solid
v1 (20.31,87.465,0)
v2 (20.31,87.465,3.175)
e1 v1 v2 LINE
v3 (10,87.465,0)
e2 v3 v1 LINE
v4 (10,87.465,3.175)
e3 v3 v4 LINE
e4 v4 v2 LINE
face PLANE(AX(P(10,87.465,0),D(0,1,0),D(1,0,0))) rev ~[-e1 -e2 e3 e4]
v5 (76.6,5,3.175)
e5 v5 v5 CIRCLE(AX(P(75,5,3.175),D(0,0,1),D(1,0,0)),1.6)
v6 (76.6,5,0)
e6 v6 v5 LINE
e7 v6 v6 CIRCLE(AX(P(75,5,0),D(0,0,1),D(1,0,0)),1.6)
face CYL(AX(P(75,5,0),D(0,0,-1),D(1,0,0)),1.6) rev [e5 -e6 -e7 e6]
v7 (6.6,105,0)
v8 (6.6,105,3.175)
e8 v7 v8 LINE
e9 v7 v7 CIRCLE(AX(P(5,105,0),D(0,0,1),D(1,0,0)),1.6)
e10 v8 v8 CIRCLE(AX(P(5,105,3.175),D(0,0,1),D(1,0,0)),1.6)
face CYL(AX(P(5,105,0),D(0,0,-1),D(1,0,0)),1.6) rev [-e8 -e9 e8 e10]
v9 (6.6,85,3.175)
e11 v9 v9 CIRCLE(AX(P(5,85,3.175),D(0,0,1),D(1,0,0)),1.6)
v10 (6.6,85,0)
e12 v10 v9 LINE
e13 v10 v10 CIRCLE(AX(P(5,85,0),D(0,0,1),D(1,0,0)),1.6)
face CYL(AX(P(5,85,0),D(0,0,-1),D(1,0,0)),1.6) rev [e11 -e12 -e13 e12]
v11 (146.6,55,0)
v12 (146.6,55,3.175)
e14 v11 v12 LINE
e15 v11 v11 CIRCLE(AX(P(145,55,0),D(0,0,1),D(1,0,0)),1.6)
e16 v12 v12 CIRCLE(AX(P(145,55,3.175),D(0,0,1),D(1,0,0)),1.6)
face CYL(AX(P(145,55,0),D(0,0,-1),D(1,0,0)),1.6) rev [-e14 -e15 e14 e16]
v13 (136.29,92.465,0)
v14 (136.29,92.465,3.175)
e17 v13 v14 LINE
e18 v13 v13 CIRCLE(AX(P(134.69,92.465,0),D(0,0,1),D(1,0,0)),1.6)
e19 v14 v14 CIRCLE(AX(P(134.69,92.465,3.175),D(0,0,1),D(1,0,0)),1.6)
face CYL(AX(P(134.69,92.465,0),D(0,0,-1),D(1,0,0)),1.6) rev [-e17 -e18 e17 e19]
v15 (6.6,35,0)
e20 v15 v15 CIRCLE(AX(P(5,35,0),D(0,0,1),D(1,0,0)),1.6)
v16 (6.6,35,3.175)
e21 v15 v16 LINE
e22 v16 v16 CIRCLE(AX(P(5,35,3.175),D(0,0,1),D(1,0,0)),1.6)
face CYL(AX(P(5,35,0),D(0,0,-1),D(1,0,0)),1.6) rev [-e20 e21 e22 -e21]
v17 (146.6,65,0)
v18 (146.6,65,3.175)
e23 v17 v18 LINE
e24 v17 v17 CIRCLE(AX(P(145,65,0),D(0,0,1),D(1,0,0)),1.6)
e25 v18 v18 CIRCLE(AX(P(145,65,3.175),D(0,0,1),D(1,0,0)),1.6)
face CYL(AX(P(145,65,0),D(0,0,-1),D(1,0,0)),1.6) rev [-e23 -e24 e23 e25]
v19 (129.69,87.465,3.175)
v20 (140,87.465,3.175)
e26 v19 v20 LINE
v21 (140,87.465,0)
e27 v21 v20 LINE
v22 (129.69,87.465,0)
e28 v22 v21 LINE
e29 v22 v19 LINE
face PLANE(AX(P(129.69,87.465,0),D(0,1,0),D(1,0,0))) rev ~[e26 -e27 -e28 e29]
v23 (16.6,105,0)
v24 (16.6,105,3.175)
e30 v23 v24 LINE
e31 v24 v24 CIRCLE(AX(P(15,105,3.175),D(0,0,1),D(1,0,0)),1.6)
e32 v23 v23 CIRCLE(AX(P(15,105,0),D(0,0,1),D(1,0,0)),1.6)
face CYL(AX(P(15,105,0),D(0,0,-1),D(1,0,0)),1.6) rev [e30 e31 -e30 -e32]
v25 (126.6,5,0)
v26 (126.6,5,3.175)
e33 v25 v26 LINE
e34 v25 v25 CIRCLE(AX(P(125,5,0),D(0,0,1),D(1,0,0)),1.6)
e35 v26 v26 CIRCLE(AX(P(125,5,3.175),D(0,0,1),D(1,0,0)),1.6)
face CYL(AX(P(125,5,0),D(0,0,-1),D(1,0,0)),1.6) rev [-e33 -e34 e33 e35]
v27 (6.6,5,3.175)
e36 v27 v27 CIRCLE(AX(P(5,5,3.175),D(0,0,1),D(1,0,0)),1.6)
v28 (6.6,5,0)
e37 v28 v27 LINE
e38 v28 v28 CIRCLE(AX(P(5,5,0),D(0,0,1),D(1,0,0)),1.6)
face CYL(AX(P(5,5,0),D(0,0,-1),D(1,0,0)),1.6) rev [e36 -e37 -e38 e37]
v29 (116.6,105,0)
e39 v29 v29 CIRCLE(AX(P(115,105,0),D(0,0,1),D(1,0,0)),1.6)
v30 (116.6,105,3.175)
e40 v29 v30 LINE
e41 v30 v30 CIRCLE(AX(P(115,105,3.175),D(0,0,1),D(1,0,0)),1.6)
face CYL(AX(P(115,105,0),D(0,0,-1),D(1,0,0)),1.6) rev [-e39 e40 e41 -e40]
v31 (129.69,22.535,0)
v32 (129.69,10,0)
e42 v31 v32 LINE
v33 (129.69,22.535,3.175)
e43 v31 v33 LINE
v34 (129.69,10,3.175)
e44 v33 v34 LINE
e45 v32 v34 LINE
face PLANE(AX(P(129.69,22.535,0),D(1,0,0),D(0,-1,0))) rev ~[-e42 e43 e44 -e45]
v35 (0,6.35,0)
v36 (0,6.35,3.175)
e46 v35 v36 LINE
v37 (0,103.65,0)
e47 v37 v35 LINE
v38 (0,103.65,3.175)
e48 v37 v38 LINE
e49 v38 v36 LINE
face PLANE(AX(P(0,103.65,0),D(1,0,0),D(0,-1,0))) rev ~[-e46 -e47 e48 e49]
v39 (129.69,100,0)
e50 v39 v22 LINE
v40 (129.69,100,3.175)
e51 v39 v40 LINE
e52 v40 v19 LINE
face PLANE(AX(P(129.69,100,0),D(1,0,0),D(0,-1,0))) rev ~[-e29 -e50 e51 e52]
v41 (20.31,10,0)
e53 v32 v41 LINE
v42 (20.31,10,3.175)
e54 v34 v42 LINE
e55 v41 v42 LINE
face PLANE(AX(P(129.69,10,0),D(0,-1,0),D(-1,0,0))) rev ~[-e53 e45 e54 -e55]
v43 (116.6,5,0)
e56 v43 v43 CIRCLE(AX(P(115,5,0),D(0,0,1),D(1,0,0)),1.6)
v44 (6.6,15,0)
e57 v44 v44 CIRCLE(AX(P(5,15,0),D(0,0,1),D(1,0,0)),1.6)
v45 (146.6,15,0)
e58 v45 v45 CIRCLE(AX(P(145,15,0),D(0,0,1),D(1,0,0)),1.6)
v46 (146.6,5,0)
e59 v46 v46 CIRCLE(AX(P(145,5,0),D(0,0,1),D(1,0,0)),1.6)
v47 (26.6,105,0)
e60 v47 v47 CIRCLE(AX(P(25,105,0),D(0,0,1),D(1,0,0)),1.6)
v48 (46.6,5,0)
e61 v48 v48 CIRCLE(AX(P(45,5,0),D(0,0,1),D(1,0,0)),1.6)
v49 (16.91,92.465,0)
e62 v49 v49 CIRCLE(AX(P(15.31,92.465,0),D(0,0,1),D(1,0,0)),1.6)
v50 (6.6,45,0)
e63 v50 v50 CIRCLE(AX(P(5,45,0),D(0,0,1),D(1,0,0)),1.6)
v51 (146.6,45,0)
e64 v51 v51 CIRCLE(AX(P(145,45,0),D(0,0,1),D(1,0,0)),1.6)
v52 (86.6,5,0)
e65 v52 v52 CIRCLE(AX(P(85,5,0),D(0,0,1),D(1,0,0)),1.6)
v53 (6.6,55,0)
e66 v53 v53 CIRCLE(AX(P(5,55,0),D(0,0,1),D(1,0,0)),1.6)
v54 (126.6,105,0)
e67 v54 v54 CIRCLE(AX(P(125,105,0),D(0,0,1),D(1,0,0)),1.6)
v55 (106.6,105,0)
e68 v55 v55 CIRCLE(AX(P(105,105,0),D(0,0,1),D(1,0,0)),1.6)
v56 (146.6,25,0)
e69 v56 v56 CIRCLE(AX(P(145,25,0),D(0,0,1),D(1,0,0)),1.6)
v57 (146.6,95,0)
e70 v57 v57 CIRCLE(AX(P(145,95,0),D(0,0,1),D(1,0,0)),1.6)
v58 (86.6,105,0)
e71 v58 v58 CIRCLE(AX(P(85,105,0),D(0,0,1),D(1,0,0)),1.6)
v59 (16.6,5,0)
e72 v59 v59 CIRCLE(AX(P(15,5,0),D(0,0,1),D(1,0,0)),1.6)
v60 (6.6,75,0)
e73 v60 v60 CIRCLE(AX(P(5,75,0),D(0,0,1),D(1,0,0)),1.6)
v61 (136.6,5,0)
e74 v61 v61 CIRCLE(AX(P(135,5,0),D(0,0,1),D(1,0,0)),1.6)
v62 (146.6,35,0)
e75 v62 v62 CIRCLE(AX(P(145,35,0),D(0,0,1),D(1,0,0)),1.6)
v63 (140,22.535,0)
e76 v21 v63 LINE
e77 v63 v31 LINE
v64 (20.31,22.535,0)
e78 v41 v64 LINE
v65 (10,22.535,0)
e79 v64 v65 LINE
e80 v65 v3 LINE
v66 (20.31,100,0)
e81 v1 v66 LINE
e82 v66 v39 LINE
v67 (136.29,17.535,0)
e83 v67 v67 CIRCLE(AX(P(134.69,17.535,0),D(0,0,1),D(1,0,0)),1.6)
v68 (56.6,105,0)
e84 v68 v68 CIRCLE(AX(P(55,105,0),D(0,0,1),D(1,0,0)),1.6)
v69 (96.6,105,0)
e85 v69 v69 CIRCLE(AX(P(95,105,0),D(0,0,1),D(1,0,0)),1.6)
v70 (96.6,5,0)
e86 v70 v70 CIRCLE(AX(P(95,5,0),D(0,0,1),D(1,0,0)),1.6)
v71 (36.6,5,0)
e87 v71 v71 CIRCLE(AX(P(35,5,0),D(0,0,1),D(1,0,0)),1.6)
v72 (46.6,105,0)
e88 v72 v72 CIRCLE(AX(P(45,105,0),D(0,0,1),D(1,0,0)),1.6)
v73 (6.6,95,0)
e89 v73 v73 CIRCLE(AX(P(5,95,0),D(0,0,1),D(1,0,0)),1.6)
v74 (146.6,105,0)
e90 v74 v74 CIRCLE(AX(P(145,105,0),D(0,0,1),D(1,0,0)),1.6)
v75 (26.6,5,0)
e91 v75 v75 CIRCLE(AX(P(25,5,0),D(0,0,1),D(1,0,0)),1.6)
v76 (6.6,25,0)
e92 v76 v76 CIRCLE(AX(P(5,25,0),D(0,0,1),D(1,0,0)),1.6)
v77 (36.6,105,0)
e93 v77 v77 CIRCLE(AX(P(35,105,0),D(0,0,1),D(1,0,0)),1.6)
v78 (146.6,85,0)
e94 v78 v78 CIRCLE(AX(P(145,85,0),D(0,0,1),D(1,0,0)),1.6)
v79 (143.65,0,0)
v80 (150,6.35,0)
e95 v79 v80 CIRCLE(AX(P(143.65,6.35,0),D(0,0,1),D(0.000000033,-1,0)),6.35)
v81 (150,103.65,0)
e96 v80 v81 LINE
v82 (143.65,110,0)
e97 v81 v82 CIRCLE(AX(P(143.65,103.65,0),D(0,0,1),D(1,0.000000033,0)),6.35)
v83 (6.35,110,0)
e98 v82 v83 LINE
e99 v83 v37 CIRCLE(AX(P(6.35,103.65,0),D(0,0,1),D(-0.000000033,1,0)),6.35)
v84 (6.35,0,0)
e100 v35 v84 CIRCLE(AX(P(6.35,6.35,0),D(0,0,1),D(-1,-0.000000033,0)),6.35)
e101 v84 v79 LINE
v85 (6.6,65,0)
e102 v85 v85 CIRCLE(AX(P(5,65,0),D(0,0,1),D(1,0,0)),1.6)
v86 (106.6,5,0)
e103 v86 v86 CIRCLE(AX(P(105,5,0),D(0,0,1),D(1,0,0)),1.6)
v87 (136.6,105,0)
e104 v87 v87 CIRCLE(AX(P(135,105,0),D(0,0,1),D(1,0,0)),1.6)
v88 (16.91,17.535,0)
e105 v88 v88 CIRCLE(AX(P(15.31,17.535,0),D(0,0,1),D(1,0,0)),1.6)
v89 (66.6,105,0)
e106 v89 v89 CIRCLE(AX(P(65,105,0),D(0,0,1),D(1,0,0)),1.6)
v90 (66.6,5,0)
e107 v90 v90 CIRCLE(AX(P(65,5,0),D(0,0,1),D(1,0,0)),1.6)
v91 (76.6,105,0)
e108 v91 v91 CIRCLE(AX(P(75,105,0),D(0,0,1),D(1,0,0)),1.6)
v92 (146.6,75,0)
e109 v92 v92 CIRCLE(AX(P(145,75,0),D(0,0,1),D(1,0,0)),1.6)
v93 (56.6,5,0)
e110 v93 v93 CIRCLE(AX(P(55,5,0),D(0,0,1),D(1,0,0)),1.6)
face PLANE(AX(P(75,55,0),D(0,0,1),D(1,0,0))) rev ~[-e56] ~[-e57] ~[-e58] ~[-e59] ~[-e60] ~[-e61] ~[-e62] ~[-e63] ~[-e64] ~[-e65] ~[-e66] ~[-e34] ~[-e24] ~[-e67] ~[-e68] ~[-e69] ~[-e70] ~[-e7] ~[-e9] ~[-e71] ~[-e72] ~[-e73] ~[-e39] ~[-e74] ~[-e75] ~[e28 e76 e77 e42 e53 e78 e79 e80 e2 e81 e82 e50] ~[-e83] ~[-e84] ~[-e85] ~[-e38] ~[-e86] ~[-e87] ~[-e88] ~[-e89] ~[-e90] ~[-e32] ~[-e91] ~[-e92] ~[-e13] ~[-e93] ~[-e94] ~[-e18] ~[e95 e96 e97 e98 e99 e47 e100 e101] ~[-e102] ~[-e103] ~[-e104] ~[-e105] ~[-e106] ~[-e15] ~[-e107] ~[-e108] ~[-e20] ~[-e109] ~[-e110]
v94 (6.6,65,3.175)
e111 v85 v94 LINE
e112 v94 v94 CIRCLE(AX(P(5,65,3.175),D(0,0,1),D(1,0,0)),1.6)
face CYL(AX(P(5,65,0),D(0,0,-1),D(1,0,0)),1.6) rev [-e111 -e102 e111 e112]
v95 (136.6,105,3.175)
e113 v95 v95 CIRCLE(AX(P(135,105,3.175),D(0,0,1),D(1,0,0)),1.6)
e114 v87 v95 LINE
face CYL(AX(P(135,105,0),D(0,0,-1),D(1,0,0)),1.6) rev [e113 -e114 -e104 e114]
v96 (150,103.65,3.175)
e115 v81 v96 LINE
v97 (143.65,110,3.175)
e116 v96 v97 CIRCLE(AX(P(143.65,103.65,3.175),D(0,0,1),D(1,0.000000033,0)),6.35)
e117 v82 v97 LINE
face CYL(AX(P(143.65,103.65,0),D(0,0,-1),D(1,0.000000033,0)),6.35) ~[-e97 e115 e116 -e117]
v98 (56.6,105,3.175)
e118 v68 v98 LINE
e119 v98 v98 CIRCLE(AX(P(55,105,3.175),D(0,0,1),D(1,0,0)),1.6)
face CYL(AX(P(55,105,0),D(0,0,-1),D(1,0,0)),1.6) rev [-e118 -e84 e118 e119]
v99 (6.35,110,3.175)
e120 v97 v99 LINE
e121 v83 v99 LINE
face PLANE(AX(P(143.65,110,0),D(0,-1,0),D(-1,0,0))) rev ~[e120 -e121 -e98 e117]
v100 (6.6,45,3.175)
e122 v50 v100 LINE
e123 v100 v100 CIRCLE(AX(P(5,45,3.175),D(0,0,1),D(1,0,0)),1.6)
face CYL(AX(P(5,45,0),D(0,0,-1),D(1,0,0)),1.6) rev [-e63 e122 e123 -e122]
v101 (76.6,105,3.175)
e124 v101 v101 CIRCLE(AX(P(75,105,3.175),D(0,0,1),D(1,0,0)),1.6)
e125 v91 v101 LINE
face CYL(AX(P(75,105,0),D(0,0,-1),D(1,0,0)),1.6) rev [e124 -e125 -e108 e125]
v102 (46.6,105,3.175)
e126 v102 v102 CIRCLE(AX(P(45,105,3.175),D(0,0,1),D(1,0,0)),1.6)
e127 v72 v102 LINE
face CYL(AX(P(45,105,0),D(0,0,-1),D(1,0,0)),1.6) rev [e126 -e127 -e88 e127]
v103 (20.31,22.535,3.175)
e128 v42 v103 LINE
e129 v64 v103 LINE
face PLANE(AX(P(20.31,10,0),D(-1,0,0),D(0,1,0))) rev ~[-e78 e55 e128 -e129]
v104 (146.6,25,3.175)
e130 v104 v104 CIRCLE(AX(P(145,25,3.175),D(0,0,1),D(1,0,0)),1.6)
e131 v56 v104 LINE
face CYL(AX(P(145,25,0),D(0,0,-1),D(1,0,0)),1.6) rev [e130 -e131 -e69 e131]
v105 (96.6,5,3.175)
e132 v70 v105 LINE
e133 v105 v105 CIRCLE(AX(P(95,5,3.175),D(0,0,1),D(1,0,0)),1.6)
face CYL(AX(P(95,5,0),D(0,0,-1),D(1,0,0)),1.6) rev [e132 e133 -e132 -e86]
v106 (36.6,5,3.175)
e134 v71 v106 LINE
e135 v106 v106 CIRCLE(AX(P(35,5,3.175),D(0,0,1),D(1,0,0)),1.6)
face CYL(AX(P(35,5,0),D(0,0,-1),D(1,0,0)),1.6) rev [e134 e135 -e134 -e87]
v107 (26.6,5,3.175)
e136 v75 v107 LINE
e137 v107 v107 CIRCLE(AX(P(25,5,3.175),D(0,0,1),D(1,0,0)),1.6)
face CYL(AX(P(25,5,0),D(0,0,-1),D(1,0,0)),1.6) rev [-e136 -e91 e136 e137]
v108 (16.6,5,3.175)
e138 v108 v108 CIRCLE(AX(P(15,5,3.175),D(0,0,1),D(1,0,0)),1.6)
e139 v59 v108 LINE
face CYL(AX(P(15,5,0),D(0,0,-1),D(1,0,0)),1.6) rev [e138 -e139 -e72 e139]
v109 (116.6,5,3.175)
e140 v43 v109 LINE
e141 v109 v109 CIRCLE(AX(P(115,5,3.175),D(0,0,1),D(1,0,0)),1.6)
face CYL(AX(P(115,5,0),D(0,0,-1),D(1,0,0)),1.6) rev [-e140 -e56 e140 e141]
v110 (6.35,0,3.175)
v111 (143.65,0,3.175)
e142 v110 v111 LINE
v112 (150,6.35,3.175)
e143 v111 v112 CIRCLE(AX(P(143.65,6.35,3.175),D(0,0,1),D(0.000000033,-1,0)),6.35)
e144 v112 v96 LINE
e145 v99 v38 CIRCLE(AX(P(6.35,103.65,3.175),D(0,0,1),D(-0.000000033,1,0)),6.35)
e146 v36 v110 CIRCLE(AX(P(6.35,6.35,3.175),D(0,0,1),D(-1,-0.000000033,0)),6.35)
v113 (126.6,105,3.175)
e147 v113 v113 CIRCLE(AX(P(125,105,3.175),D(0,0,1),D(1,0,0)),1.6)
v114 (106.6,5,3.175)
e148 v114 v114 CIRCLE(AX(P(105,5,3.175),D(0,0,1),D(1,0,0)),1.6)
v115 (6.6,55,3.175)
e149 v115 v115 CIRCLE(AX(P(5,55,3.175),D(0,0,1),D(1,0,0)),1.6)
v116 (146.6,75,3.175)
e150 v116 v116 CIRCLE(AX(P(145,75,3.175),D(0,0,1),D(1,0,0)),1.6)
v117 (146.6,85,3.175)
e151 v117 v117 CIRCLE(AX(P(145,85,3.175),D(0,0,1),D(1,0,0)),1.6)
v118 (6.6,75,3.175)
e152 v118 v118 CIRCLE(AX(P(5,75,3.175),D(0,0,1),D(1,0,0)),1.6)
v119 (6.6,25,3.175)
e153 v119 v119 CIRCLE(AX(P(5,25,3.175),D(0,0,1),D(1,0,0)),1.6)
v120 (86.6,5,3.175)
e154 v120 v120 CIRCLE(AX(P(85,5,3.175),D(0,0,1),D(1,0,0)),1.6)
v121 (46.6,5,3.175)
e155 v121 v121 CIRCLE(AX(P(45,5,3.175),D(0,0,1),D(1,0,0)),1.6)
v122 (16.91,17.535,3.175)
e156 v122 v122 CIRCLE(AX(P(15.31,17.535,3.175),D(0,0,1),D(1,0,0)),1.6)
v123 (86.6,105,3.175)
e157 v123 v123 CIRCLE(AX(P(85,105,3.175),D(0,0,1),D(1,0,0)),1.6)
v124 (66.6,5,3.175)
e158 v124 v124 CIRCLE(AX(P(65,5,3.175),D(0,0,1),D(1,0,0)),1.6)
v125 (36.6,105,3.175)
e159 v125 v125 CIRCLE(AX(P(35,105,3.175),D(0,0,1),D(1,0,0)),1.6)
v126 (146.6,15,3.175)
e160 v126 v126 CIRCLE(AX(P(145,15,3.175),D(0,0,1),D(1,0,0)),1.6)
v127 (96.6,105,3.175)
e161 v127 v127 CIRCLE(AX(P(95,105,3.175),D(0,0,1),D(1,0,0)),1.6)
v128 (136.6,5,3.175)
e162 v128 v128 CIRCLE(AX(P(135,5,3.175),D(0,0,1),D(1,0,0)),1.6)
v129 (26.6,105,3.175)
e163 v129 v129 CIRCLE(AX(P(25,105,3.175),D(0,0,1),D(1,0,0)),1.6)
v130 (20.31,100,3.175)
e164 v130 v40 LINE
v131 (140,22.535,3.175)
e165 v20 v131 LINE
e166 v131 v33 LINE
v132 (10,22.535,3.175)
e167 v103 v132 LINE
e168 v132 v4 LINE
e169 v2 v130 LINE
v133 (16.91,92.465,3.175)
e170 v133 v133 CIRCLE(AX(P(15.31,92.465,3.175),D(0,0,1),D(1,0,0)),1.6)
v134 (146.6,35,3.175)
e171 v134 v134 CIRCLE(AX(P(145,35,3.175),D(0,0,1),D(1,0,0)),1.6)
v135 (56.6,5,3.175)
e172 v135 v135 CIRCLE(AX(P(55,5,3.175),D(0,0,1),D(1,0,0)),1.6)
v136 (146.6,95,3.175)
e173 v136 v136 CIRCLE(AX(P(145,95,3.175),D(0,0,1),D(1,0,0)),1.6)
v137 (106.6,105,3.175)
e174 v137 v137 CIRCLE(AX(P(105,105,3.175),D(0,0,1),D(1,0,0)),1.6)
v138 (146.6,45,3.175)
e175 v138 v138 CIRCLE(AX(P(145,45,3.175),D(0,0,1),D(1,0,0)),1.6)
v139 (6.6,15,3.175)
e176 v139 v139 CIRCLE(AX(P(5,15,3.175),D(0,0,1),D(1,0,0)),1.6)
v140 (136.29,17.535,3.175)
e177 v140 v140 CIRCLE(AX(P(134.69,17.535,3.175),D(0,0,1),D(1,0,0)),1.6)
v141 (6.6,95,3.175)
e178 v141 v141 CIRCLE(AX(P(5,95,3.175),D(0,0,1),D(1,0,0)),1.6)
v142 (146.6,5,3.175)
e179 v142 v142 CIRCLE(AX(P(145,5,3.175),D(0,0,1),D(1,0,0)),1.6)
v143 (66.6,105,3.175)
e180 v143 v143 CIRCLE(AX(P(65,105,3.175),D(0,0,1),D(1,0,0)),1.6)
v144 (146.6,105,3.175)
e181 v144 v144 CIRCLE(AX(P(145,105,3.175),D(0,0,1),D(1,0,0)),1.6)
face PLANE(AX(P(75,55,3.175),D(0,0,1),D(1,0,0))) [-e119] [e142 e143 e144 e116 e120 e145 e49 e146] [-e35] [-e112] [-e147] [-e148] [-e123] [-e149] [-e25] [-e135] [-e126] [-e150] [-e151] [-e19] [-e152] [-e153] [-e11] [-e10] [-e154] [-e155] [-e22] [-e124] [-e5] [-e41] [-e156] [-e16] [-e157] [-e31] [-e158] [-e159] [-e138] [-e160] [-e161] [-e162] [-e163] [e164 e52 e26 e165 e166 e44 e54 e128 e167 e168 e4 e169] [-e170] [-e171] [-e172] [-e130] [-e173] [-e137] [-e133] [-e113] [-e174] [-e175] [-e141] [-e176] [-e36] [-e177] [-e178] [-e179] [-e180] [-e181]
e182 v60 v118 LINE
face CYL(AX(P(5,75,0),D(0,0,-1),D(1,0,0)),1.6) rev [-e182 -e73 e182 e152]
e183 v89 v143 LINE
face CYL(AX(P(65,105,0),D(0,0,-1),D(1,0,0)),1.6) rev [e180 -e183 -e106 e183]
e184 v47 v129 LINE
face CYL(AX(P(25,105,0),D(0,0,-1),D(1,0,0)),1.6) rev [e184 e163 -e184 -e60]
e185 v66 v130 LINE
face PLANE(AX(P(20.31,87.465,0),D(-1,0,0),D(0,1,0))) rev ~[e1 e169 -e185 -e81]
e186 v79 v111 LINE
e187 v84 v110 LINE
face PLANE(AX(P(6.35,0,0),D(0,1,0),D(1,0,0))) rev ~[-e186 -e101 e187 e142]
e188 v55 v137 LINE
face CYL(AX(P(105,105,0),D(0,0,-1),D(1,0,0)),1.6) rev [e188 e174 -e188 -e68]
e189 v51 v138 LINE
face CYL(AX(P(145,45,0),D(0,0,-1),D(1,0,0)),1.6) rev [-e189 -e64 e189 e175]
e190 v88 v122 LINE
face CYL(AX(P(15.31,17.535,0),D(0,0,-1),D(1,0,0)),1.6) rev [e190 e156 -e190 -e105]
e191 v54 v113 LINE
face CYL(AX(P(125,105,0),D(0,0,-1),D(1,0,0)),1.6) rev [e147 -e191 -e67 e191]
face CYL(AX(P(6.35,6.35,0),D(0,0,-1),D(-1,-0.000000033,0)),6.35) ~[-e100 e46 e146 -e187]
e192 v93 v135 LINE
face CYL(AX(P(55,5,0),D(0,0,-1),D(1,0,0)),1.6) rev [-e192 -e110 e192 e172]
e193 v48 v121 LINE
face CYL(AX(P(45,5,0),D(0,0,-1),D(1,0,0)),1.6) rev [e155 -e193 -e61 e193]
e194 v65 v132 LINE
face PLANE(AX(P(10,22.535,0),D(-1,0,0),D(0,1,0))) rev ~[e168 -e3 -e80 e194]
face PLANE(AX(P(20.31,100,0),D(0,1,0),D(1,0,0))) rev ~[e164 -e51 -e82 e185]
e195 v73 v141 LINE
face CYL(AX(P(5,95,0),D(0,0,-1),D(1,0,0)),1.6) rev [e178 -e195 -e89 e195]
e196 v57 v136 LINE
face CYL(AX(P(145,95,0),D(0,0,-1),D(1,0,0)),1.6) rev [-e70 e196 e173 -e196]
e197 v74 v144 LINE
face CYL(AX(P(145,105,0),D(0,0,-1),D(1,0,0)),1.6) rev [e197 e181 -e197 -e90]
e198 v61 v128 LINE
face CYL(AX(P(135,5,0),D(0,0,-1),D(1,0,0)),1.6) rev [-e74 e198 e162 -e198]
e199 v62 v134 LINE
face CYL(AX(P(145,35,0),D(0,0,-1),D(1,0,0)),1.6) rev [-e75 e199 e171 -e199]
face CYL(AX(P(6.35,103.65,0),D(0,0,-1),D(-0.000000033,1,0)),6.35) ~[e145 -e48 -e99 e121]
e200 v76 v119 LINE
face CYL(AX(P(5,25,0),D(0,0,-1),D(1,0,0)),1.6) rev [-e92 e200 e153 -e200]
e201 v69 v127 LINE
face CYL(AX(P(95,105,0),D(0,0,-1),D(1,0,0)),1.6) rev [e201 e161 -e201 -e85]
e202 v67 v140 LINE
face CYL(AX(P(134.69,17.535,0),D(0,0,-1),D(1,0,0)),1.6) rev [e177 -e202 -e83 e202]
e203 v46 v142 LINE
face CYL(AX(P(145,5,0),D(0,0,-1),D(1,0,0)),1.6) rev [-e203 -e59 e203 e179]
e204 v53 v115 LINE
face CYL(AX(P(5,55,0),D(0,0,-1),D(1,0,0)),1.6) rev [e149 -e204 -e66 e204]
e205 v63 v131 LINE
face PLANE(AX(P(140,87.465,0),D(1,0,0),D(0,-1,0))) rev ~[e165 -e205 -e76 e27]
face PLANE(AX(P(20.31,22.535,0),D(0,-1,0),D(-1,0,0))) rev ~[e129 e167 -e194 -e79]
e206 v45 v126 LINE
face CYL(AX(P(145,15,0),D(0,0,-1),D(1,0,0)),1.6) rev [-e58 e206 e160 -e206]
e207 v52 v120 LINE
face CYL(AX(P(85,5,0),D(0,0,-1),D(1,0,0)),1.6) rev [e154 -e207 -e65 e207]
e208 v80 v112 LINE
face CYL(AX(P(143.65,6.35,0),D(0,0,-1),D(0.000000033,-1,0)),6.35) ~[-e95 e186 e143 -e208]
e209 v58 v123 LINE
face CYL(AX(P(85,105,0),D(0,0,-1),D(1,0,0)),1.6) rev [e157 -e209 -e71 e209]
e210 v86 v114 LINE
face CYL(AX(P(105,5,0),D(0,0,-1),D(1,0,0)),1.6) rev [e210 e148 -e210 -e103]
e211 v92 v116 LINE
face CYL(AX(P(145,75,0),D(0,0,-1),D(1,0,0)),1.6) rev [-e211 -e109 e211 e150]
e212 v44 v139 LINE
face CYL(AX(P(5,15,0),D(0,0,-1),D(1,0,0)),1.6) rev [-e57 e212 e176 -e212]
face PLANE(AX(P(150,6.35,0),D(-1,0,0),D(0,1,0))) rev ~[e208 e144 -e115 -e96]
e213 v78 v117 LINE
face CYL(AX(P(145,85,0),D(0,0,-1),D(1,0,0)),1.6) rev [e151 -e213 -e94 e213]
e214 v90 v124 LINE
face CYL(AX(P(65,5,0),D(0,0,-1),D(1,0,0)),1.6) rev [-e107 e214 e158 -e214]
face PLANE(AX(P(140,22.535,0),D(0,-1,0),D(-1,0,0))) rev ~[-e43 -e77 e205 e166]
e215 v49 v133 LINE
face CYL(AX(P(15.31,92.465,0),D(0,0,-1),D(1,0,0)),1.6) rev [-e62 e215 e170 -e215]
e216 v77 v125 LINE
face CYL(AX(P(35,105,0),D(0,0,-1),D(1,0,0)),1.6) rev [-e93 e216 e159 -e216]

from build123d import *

# Parameters (mm, degrees)
F0_R     = 1.6
F1_DEPTH = 3.175


with BuildPart() as f1:
    # F0 (on Top) → F1 (new body)
    with BuildSketch(Plane.XY):
        with BuildLine():
            ThreePointArc((0, 6.35), (1.859872, 1.859872), (6.35, 0))
            Line((6.35, 0), (143.65, 0))
            ThreePointArc((143.65, 0), (148.140128, 1.859872), (150, 6.35))
            Line((150, 6.35), (150, 103.65))
            ThreePointArc((150, 103.65), (148.140128, 108.140128), (143.65, 110))
            Line((143.65, 110), (6.35, 110))
            ThreePointArc((6.35, 110), (1.859872, 108.140128), (0, 103.65))
            Line((0, 103.65), (0, 6.35))
        make_face()
        with Locations((5, 5)):
            Circle(F0_R, mode=Mode.SUBTRACT)
        with Locations((15, 5)):
            Circle(F0_R, mode=Mode.SUBTRACT)
        with Locations((25, 5)):
            Circle(F0_R, mode=Mode.SUBTRACT)
        with Locations((35, 5)):
            Circle(F0_R, mode=Mode.SUBTRACT)
        with Locations((5, 15)):
            Circle(F0_R, mode=Mode.SUBTRACT)
        with Locations((15.31, 17.535)):
            Circle(F0_R, mode=Mode.SUBTRACT)
        with Locations((5, 25)):
            Circle(F0_R, mode=Mode.SUBTRACT)
        with Locations((45, 5)):
            Circle(F0_R, mode=Mode.SUBTRACT)
        with Locations((55, 5)):
            Circle(F0_R, mode=Mode.SUBTRACT)
        with Locations((65, 5)):
            Circle(F0_R, mode=Mode.SUBTRACT)
        with Locations((5, 35)):
            Circle(F0_R, mode=Mode.SUBTRACT)
        with Locations((5, 45)):
            Circle(F0_R, mode=Mode.SUBTRACT)
        with Locations((75, 5)):
            Circle(F0_R, mode=Mode.SUBTRACT)
        with Locations((85, 5)):
            Circle(F0_R, mode=Mode.SUBTRACT)
        with Locations((95, 5)):
            Circle(F0_R, mode=Mode.SUBTRACT)
        with Locations((105, 5)):
            Circle(F0_R, mode=Mode.SUBTRACT)
        with Locations((115, 5)):
            Circle(F0_R, mode=Mode.SUBTRACT)
        with Locations((125, 5)):
            Circle(F0_R, mode=Mode.SUBTRACT)
        with Locations((135, 5)):
            Circle(F0_R, mode=Mode.SUBTRACT)
        with Locations((145, 5)):
            Circle(F0_R, mode=Mode.SUBTRACT)
        with Locations((134.69, 17.535)):
            Circle(F0_R, mode=Mode.SUBTRACT)
        with Locations((145, 15)):
            Circle(F0_R, mode=Mode.SUBTRACT)
        with Locations((145, 25)):
            Circle(F0_R, mode=Mode.SUBTRACT)
        with Locations((145, 35)):
            Circle(F0_R, mode=Mode.SUBTRACT)
        with Locations((145, 45)):
            Circle(F0_R, mode=Mode.SUBTRACT)
        with Locations((5, 55)):
            Circle(F0_R, mode=Mode.SUBTRACT)
        with Locations((5, 65)):
            Circle(F0_R, mode=Mode.SUBTRACT)
        with Locations((5, 75)):
            Circle(F0_R, mode=Mode.SUBTRACT)
        with Locations((5, 85)):
            Circle(F0_R, mode=Mode.SUBTRACT)
        with Locations((5, 95)):
            Circle(F0_R, mode=Mode.SUBTRACT)
        with Locations((15.31, 92.465)):
            Circle(F0_R, mode=Mode.SUBTRACT)
        with Locations((5, 105)):
            Circle(F0_R, mode=Mode.SUBTRACT)
        with Locations((15, 105)):
            Circle(F0_R, mode=Mode.SUBTRACT)
        with Locations((25, 105)):
            Circle(F0_R, mode=Mode.SUBTRACT)
        with Locations((35, 105)):
            Circle(F0_R, mode=Mode.SUBTRACT)
        with Locations((45, 105)):
            Circle(F0_R, mode=Mode.SUBTRACT)
        with Locations((55, 105)):
            Circle(F0_R, mode=Mode.SUBTRACT)
        with Locations((65, 105)):
            Circle(F0_R, mode=Mode.SUBTRACT)
        Polygon((20.31, 22.535), (10, 22.535), (10, 87.465), (20.31, 87.465), (20.31, 100), (129.69, 100), (129.69, 87.465), (140, 87.465), (140, 22.535), (129.69, 22.535), (129.69, 10), (20.31, 10), align=None, mode=Mode.SUBTRACT)
        with Locations((145, 55)):
            Circle(F0_R, mode=Mode.SUBTRACT)
        with Locations((145, 65)):
            Circle(F0_R, mode=Mode.SUBTRACT)
        with Locations((145, 75)):
            Circle(F0_R, mode=Mode.SUBTRACT)
        with Locations((75, 105)):
            Circle(F0_R, mode=Mode.SUBTRACT)
        with Locations((85, 105)):
            Circle(F0_R, mode=Mode.SUBTRACT)
        with Locations((95, 105)):
            Circle(F0_R, mode=Mode.SUBTRACT)
        with Locations((105, 105)):
            Circle(F0_R, mode=Mode.SUBTRACT)
        with Locations((145, 85)):
            Circle(F0_R, mode=Mode.SUBTRACT)
        with Locations((134.69, 92.465)):
            Circle(F0_R, mode=Mode.SUBTRACT)
        with Locations((145, 95)):
            Circle(F0_R, mode=Mode.SUBTRACT)
        with Locations((115, 105)):
            Circle(F0_R, mode=Mode.SUBTRACT)
        with Locations((125, 105)):
            Circle(F0_R, mode=Mode.SUBTRACT)
        with Locations((135, 105)):
            Circle(F0_R, mode=Mode.SUBTRACT)
        with Locations((145, 105)):
            Circle(F0_R, mode=Mode.SUBTRACT)
    extrude(amount=F1_DEPTH)


solid = f1.part
